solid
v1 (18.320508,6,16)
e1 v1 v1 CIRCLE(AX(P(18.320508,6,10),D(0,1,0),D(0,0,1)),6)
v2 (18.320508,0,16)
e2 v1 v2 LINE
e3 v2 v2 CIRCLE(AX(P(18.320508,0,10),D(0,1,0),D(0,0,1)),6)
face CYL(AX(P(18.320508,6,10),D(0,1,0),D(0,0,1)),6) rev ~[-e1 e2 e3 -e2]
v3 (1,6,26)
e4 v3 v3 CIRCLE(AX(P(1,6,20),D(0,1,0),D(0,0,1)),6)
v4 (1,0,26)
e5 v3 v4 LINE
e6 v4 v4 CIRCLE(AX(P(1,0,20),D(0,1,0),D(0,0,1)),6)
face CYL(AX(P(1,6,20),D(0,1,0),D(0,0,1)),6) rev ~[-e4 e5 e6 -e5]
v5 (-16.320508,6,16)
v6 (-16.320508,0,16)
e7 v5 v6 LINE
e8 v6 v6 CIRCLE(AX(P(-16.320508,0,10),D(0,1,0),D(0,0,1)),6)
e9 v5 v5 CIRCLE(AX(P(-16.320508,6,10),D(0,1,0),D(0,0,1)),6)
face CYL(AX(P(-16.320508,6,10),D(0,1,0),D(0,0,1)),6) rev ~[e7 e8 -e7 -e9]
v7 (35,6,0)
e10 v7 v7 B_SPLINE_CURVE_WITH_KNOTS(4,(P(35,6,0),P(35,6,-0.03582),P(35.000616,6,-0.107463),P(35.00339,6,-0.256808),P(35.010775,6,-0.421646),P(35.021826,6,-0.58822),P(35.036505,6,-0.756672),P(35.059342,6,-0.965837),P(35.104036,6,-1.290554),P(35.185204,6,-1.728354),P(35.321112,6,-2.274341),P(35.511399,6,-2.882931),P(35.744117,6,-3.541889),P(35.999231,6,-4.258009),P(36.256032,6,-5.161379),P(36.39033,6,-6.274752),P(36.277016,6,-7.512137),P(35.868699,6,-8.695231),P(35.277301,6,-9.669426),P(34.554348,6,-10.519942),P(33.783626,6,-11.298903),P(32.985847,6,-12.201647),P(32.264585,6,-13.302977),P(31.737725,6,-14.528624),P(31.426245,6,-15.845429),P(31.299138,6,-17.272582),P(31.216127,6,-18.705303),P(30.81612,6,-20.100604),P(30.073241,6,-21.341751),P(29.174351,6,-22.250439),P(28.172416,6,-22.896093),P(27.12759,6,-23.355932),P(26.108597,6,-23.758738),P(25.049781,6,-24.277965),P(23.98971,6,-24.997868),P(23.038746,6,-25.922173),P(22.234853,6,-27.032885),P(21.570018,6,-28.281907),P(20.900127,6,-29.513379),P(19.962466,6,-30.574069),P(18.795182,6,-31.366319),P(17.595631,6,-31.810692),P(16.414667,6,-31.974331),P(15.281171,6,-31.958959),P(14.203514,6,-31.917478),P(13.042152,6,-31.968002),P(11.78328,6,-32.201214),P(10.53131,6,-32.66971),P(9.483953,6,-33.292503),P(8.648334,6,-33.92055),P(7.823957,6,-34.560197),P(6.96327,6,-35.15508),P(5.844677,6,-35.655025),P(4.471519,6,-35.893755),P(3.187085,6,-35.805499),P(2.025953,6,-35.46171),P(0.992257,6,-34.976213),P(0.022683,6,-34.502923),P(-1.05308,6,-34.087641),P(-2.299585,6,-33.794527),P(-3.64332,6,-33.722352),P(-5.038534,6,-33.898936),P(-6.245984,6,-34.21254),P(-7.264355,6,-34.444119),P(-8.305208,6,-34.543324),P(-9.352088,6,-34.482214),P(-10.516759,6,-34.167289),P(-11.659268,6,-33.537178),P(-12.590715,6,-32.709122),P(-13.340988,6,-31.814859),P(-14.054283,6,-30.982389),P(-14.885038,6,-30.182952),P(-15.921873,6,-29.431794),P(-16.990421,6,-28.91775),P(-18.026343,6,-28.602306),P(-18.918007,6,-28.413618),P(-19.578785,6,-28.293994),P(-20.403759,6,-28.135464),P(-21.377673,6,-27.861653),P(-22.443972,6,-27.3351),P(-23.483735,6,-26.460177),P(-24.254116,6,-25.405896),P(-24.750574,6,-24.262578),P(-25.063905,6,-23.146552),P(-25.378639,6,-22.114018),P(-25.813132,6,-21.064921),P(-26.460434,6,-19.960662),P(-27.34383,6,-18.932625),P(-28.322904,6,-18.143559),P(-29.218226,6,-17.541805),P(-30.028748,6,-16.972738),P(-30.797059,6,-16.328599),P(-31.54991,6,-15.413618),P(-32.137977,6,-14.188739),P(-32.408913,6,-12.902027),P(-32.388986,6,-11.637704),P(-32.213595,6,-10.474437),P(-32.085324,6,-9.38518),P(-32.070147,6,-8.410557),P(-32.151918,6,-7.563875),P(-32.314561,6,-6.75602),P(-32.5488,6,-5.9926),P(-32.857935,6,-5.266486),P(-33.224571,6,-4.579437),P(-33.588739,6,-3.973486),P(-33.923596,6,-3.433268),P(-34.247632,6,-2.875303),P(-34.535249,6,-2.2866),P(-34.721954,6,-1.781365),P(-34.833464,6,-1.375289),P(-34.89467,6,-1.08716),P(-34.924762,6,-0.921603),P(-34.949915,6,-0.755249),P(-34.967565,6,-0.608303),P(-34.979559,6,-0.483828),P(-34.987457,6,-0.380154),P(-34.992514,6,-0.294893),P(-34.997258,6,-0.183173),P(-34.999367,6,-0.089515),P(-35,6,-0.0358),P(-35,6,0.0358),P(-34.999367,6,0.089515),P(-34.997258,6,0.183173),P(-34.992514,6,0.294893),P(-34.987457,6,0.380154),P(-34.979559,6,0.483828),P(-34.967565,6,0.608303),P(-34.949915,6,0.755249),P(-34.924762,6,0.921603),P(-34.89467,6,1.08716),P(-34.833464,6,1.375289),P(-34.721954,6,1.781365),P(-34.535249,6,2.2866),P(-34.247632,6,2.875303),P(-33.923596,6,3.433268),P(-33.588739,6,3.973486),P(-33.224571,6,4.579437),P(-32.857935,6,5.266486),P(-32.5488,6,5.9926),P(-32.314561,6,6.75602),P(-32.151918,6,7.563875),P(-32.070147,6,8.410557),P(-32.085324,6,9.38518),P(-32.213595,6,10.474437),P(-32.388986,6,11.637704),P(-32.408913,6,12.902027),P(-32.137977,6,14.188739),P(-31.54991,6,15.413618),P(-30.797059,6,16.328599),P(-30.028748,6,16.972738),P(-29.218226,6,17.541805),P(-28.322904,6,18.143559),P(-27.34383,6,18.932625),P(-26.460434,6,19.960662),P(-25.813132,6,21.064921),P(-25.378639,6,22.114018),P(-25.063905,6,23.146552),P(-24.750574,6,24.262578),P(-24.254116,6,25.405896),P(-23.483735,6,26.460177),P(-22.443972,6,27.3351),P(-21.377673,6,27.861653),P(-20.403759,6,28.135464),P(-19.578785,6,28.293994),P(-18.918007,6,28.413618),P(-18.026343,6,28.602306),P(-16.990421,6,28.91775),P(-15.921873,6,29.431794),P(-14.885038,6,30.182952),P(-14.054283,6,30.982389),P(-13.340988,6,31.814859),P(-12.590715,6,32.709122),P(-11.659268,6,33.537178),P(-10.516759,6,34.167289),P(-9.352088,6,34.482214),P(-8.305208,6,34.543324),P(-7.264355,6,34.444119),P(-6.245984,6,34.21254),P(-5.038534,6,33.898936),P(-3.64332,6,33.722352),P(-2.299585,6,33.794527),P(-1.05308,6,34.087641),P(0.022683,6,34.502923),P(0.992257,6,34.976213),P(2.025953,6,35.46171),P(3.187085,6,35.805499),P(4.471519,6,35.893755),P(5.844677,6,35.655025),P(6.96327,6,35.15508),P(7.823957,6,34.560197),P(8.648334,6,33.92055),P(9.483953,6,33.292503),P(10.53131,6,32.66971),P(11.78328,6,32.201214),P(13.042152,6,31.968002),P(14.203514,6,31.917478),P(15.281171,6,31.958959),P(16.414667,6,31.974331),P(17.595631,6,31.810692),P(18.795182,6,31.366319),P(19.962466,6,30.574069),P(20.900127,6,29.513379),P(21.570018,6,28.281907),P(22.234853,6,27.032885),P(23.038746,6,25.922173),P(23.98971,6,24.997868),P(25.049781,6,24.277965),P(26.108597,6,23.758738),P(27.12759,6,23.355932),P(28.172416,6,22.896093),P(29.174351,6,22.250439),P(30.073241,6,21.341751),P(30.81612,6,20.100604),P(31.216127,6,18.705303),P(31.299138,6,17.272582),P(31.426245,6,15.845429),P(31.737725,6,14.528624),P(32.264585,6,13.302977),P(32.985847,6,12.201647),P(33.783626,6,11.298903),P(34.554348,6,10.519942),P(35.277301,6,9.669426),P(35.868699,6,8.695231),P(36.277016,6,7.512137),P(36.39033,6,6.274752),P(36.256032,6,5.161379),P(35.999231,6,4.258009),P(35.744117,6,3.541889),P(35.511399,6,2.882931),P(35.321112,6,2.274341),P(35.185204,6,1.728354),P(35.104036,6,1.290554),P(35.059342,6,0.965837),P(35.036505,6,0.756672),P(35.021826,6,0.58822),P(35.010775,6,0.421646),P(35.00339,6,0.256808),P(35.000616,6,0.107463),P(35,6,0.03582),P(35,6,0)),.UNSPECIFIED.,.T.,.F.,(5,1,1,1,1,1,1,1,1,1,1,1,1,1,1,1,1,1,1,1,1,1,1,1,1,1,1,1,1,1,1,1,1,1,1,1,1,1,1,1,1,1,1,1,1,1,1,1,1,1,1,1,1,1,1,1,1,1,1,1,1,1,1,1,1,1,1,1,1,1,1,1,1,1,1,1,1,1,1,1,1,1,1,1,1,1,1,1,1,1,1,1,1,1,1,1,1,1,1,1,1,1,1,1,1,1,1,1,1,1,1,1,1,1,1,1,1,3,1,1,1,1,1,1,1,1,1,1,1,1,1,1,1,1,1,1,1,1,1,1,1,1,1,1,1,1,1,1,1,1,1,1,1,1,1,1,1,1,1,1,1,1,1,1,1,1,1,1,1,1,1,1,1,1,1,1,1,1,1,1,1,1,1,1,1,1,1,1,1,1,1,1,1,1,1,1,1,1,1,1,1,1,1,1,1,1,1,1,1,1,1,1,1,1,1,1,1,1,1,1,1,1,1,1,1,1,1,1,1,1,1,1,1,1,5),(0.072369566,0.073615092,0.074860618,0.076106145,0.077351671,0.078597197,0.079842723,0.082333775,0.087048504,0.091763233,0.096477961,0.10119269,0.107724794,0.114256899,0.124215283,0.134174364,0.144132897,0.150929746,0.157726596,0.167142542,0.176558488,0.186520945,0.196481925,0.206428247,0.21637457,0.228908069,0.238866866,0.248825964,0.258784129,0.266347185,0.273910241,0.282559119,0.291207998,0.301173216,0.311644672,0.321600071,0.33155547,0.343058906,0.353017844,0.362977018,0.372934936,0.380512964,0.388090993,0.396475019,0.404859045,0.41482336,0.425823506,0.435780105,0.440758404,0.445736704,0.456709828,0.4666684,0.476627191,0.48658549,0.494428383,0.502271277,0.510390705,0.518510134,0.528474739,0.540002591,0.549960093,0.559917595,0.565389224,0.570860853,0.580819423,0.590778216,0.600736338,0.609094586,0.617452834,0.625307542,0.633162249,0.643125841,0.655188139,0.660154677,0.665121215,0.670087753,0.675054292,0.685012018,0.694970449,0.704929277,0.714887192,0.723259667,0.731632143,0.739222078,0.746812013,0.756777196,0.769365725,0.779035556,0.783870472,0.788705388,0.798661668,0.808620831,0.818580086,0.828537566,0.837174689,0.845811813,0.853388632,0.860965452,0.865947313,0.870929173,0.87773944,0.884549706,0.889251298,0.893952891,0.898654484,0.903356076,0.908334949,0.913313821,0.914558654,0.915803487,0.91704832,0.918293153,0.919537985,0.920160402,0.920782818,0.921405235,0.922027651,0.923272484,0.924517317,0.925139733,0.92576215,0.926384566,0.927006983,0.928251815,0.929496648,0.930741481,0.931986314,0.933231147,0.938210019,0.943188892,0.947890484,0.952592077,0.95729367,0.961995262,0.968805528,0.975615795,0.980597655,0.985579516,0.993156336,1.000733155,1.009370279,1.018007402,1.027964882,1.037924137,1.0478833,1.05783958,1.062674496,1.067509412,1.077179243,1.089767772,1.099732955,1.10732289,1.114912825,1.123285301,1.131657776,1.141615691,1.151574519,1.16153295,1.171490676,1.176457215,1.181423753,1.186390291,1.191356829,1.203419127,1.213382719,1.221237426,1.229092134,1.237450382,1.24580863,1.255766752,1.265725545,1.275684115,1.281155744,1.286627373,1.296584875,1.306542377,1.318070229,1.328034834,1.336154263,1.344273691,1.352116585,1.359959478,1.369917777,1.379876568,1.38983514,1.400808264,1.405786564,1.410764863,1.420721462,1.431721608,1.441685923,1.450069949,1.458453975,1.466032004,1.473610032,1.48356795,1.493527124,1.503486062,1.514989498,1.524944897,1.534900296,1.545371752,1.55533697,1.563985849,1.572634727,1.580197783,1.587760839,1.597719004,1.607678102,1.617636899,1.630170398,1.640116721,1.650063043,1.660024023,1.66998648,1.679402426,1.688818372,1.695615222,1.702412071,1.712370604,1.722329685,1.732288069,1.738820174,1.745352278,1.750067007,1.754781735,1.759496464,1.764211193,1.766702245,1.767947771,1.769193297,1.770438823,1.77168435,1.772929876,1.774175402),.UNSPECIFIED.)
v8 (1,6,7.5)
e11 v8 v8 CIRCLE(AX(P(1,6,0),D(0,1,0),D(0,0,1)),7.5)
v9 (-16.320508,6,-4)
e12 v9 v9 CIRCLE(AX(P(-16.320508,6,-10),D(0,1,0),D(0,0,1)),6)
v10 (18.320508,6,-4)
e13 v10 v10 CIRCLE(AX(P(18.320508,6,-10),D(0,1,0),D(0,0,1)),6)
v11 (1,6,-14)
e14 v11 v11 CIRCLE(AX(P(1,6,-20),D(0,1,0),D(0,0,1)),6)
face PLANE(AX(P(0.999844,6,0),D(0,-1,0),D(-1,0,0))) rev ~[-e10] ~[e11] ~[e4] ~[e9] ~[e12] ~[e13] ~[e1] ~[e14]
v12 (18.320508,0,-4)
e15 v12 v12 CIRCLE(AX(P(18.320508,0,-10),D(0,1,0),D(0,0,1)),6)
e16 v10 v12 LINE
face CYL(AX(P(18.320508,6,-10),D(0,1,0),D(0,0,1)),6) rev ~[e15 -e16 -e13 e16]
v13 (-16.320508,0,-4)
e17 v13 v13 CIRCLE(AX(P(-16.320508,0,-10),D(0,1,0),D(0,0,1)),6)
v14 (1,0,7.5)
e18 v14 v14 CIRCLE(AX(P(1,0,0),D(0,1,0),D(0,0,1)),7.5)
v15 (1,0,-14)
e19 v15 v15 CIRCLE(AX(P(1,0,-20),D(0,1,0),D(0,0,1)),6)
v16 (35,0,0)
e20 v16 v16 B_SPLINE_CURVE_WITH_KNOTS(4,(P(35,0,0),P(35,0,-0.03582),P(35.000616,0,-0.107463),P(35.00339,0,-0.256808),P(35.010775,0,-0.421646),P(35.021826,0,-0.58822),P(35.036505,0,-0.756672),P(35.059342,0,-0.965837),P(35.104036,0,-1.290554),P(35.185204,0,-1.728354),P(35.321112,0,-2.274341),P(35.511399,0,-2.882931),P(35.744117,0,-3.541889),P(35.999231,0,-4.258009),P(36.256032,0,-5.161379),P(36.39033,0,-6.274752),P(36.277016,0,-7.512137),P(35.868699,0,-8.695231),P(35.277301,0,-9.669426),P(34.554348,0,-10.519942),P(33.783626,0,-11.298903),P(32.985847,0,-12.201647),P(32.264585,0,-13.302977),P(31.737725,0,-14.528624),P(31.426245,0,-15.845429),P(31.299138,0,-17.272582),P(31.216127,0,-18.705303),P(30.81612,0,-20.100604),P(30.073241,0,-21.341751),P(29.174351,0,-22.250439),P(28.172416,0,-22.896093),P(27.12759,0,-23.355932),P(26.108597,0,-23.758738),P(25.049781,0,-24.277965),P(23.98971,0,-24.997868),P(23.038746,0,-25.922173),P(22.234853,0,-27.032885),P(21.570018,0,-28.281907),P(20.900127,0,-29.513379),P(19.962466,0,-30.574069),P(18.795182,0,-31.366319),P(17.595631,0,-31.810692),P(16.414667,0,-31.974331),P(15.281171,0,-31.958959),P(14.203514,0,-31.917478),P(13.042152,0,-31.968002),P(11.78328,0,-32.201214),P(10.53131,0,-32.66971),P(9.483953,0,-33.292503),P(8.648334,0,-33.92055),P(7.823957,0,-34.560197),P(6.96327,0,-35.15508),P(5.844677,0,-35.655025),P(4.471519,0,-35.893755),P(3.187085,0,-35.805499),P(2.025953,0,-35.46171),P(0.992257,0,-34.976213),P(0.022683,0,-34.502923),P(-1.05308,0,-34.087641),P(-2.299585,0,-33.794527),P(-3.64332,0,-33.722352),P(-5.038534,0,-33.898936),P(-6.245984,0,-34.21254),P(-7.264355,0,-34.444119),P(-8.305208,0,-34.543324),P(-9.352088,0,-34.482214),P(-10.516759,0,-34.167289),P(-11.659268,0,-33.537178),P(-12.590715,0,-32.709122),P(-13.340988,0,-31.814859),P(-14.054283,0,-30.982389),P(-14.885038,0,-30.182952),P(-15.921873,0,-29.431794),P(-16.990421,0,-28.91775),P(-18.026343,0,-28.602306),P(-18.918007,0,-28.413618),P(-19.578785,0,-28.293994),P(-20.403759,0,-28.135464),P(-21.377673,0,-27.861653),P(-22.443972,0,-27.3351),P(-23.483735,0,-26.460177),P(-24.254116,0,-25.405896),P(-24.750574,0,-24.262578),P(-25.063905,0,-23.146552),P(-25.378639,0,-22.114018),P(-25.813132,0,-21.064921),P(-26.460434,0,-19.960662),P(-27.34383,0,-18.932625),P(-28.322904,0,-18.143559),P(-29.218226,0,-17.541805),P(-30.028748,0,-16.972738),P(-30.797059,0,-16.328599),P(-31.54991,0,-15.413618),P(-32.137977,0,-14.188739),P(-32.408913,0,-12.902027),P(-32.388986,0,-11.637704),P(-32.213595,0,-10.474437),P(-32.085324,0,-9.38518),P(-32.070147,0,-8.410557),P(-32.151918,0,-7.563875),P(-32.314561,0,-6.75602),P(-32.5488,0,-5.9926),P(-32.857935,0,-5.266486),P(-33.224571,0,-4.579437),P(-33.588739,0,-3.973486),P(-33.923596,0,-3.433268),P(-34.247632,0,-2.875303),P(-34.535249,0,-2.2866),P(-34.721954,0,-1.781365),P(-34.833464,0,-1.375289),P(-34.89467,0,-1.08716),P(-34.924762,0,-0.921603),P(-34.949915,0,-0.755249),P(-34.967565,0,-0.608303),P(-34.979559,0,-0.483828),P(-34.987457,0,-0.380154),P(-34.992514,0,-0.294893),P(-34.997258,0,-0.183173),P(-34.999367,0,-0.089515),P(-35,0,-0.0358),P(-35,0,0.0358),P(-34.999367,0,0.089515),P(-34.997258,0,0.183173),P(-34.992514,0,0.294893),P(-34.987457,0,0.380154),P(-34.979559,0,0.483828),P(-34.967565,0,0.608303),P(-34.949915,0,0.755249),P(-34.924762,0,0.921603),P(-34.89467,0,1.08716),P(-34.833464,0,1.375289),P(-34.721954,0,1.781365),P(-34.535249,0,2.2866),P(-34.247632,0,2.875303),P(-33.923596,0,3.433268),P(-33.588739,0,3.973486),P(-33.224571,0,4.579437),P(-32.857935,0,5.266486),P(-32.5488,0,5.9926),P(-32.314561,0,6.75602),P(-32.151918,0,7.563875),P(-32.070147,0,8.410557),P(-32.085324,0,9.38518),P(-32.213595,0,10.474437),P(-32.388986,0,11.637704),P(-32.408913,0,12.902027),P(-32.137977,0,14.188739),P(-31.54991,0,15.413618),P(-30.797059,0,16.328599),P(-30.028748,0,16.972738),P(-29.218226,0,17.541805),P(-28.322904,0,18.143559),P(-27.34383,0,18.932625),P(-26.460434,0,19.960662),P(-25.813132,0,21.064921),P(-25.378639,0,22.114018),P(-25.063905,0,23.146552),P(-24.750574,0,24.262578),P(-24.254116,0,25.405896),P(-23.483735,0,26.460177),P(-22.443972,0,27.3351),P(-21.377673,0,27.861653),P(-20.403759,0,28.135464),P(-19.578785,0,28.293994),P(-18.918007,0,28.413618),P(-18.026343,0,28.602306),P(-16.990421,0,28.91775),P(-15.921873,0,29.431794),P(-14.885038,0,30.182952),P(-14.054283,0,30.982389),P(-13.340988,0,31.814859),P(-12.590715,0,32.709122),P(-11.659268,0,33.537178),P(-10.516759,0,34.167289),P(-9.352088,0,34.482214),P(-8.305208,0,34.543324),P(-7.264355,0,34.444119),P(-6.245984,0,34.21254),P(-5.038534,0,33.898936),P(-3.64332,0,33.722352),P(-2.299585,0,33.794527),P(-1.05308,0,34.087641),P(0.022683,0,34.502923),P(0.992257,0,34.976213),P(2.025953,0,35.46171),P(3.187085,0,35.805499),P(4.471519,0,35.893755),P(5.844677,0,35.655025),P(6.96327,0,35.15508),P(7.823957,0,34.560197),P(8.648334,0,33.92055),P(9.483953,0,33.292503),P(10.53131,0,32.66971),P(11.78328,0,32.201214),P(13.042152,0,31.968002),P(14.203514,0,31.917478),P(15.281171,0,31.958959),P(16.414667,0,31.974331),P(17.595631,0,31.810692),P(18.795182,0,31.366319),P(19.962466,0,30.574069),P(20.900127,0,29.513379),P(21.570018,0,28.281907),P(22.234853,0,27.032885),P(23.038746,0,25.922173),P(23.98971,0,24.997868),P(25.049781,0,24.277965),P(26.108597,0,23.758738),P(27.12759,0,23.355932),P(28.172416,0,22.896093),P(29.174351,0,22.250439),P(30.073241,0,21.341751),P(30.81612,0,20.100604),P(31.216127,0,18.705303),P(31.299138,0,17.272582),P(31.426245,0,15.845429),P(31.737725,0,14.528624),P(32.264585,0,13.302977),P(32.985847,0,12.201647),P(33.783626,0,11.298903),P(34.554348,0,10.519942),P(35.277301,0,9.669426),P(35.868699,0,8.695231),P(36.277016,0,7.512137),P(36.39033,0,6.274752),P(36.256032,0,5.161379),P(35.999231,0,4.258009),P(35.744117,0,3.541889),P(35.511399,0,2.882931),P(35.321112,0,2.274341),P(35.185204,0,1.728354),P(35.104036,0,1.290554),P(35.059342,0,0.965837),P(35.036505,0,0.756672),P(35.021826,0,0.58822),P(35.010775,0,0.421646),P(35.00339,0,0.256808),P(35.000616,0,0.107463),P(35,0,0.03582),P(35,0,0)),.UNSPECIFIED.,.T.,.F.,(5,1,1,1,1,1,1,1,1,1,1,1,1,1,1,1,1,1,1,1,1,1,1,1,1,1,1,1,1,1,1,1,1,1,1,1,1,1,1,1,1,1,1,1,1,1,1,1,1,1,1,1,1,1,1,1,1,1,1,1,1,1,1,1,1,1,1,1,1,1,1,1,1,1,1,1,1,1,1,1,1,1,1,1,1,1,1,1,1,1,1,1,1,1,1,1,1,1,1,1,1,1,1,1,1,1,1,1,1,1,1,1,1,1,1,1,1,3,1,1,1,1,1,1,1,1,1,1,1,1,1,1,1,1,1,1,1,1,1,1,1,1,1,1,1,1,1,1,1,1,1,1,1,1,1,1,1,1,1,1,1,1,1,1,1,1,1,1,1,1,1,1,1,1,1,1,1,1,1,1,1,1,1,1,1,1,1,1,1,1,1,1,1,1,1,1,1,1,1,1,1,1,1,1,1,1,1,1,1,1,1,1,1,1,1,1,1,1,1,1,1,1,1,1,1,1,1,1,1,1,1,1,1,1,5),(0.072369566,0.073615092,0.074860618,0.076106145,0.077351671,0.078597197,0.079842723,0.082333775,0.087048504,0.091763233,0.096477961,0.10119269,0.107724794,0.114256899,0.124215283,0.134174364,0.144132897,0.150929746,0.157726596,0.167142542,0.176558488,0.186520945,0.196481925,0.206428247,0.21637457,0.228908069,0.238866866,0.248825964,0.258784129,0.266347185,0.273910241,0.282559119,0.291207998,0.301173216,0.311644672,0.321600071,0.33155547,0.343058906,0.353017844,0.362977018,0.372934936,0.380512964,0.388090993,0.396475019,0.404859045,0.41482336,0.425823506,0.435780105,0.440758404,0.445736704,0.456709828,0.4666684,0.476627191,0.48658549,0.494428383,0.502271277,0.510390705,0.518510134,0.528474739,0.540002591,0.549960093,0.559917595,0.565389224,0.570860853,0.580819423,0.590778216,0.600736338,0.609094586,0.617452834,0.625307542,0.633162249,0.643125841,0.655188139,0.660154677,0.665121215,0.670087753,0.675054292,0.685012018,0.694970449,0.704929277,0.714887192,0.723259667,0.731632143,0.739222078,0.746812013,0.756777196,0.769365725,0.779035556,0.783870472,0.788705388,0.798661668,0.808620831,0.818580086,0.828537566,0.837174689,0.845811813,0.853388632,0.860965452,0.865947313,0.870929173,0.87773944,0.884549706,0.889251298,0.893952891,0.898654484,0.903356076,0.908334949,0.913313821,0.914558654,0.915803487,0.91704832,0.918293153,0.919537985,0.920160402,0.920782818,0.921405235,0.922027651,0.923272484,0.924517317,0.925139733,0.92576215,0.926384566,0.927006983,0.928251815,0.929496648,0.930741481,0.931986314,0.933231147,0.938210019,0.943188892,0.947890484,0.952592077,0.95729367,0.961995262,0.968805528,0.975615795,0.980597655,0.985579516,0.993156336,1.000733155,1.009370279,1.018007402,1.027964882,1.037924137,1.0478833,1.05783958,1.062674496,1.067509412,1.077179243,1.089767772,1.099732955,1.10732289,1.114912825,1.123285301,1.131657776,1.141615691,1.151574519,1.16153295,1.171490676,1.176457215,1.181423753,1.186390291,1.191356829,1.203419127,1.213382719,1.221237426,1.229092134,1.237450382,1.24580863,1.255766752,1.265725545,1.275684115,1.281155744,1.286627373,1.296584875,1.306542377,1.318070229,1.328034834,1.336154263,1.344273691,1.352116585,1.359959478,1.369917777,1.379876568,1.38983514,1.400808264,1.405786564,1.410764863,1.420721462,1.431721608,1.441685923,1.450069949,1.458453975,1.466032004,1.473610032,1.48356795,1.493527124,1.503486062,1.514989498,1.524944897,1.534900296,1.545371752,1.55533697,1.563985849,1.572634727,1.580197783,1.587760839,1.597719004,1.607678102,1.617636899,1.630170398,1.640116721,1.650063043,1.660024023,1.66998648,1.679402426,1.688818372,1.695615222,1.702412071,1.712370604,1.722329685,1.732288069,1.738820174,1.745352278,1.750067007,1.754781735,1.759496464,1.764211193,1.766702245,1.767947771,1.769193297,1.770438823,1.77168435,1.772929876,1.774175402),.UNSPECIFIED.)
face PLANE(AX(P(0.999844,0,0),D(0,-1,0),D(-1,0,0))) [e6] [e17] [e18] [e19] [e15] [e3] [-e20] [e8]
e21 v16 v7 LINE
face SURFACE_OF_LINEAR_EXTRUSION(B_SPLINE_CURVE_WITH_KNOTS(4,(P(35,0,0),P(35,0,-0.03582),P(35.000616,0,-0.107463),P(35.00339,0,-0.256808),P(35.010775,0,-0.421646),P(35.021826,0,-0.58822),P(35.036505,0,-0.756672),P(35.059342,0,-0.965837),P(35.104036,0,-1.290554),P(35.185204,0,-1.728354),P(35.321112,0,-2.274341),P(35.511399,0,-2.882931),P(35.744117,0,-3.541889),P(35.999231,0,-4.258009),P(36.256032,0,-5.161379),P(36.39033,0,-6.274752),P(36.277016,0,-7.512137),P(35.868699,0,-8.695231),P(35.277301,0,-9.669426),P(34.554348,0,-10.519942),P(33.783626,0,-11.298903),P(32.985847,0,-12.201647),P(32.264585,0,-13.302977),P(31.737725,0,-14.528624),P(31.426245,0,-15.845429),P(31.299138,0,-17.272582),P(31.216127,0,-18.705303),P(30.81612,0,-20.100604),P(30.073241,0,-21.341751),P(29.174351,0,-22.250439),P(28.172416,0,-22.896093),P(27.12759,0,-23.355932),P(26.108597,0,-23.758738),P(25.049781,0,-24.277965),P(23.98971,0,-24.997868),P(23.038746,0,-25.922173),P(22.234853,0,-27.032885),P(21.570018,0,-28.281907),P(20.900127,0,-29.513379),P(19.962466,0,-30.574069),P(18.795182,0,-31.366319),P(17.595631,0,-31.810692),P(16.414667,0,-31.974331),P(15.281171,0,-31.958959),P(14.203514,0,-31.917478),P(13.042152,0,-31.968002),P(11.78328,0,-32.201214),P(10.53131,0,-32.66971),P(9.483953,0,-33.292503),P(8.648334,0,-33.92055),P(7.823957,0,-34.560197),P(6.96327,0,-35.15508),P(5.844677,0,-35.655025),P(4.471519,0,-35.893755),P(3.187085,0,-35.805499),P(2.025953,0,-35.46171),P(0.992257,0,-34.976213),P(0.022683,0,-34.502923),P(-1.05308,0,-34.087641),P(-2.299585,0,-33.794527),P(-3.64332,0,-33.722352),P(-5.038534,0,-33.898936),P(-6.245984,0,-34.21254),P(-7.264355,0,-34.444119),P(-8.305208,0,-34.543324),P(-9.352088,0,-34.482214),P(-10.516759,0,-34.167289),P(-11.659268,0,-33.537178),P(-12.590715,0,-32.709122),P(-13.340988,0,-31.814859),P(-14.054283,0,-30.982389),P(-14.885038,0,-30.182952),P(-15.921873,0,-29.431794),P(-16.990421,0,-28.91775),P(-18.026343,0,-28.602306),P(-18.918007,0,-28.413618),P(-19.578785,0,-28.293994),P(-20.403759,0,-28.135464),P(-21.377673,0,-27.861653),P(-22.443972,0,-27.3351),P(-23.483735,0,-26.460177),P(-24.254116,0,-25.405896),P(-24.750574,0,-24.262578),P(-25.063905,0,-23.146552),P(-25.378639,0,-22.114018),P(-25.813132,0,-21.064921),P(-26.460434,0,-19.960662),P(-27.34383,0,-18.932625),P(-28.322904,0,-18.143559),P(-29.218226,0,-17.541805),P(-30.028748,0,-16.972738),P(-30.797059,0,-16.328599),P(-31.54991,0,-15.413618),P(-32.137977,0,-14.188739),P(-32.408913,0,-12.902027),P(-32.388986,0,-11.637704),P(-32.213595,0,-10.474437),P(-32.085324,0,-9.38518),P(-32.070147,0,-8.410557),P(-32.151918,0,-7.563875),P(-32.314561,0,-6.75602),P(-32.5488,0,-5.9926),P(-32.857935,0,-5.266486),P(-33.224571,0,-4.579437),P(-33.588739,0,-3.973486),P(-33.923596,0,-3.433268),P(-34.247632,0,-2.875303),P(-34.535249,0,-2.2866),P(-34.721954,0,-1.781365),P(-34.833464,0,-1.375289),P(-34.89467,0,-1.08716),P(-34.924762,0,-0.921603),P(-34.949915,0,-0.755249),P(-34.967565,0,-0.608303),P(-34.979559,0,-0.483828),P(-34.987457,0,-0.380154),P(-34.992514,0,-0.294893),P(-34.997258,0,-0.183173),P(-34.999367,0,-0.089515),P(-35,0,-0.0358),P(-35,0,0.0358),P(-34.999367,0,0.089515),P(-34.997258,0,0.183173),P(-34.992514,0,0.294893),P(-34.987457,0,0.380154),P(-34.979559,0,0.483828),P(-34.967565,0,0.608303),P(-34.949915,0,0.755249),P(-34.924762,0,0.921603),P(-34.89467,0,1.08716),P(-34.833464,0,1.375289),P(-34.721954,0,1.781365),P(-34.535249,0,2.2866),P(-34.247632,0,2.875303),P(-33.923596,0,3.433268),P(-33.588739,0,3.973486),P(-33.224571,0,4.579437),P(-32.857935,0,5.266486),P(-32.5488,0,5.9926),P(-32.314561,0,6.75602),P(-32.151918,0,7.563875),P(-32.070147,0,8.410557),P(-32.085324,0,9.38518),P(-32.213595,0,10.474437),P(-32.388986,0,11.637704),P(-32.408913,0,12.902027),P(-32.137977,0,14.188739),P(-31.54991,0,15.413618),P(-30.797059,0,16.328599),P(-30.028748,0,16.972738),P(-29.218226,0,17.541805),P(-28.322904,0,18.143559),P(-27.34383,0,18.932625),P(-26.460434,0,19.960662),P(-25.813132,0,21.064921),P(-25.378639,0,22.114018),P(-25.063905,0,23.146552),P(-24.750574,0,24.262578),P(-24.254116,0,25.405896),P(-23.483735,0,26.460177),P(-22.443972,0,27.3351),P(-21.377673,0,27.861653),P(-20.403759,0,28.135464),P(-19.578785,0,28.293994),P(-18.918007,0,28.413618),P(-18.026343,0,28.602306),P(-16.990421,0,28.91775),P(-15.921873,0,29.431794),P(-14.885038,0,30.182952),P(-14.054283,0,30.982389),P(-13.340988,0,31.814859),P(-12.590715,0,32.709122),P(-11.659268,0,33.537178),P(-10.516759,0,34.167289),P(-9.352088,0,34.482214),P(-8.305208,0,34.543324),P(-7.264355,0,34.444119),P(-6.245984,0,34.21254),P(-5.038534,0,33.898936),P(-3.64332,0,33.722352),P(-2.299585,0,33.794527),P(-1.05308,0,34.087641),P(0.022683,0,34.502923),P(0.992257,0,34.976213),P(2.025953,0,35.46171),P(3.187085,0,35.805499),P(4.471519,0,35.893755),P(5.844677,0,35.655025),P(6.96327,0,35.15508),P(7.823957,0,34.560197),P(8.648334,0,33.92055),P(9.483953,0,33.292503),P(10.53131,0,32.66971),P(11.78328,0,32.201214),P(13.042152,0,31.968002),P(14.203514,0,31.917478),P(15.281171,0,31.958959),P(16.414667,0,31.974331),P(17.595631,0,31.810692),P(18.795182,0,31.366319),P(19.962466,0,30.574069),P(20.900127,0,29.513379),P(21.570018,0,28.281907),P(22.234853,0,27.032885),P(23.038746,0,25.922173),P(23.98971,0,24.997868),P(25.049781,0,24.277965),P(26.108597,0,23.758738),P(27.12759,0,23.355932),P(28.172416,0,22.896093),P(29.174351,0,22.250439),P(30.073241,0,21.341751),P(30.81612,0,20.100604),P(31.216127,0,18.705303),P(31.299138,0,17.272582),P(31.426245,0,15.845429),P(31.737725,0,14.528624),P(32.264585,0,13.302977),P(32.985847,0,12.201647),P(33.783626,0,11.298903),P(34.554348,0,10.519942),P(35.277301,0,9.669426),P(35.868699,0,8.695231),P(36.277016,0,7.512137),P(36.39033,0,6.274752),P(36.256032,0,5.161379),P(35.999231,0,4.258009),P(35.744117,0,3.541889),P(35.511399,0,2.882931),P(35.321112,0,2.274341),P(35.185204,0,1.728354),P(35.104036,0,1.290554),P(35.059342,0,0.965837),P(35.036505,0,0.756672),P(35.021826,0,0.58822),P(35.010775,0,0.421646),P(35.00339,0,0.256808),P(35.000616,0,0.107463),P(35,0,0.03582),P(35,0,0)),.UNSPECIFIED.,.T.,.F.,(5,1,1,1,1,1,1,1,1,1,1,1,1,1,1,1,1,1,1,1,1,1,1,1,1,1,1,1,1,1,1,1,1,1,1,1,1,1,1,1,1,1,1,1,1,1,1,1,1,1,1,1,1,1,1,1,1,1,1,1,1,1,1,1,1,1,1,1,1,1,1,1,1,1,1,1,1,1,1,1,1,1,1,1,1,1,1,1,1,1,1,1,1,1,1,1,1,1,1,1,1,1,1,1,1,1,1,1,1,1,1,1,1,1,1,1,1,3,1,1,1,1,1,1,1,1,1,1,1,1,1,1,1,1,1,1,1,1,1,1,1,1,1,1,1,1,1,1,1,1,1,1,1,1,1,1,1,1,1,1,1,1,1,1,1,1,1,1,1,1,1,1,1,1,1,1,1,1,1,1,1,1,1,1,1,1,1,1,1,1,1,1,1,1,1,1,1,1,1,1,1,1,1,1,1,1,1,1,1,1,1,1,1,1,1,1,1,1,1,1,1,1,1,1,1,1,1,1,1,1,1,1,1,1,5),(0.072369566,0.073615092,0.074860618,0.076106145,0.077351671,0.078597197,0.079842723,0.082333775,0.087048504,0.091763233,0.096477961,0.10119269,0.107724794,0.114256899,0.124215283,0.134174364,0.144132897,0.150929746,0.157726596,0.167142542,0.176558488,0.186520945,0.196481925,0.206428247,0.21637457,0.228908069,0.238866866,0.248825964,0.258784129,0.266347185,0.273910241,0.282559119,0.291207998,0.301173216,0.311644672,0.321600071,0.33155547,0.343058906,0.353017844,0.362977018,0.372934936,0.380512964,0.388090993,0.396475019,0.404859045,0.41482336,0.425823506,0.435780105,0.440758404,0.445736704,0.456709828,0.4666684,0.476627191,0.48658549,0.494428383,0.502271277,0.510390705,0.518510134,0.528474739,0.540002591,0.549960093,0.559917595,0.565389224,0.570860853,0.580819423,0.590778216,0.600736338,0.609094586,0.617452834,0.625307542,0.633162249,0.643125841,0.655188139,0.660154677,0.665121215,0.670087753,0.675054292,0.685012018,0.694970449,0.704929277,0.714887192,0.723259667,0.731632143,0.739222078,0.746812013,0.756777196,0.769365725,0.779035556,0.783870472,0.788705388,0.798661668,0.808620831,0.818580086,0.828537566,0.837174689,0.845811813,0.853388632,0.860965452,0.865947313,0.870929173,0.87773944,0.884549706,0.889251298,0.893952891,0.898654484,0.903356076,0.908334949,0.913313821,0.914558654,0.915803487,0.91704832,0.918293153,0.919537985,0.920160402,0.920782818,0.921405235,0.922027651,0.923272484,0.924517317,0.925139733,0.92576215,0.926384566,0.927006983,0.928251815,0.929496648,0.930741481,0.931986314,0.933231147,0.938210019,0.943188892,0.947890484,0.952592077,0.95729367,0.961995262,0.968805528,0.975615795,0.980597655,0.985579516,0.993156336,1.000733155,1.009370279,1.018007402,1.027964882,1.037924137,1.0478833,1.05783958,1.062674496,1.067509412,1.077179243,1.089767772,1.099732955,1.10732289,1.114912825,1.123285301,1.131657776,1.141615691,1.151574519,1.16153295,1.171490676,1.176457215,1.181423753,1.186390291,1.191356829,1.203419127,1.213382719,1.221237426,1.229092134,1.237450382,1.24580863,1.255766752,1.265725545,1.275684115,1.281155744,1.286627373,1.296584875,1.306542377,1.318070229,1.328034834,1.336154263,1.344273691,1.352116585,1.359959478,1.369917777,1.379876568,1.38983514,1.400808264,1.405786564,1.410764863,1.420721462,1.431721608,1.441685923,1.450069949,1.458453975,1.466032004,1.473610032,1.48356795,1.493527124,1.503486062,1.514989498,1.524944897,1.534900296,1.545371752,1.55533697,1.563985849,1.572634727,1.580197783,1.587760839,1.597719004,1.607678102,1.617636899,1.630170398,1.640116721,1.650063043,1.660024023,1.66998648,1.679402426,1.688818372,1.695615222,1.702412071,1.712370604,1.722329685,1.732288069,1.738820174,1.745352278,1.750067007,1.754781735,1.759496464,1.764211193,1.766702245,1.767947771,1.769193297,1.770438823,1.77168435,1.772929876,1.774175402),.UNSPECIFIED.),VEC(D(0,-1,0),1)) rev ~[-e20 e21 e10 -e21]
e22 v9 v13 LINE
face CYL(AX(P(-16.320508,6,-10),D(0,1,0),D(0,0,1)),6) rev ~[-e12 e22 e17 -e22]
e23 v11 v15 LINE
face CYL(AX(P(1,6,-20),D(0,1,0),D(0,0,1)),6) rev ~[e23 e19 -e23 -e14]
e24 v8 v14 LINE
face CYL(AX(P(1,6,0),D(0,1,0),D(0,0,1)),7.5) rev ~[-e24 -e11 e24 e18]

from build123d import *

# Parameters (mm, degrees)
BOSS_EXTRUDE1_DEPTH = 6
SKETCH4_R           = 7.5
SKETCH4_R_2         = 6
CUT_EXTRUDE1_DEPTH  = 52.384193919


with BuildPart() as part:
    # Sketch3 → Boss-Extrude1 (new body)
    with BuildSketch(Plane(origin=(0, 0, 0), x_dir=(1, 0, 0), z_dir=(0, 1, 0))):
        with BuildLine():
            add(Edge.make_bspline(
                [(35, 0), (35, -0.035819521), (35.000616373, -0.107462841), (35.003390054, -0.256808001), (35.01077535, -0.421646412), (35.021825769, -0.588219856), (35.036504882, -0.756672424), (35.059341773, -0.965837166), (35.104035951, -1.290553755), (35.185204177, -1.728353621), (35.321111932, -2.274340702), (35.511398877, -2.882930915), (35.744117036, -3.541888991), (35.999231194, -4.258009419), (36.256031973, -5.161379021), (36.390330129, -6.274752326), (36.277015947, -7.512136968), (35.868698722, -8.695231312), (35.277300884, -9.66942621), (34.554347706, -10.519941998), (33.783626013, -11.298902854), (32.985846748, -12.201646946), (32.264584631, -13.302976589), (31.737724515, -14.528623762), (31.426244596, -15.845428611), (31.299137645, -17.272582429), (31.216127, -18.70530298), (30.816120234, -20.100603953), (30.073240875, -21.341751417), (29.174351138, -22.250438514), (28.172415899, -22.896093054), (27.127590319, -23.355931745), (26.10859664, -23.758738205), (25.049780962, -24.277964858), (23.989709649, -24.997868071), (23.038745697, -25.922173331), (22.234852767, -27.032885429), (21.570018171, -28.281907031), (20.900127092, -29.513378935), (19.962466181, -30.574068753), (18.79518192, -31.366318649), (17.595631263, -31.810691731), (16.414666993, -31.97433085), (15.281171148, -31.958959306), (14.203514384, -31.91747762), (13.042151806, -31.968001953), (11.783279681, -32.201214224), (10.531309832, -32.66971044), (9.48395263, -33.292502605), (8.64833417, -33.920550222), (7.823957174, -34.560196787), (6.963270269, -35.155080008), (5.844676613, -35.655024643), (4.471519425, -35.893755086), (3.187084678, -35.805499476), (2.025952577, -35.461710054), (0.992256939, -34.976213141), (0.022683462, -34.502923006), (-1.053080375, -34.087641485), (-2.299584809, -33.794526859), (-3.643320491, -33.722351618), (-5.038534255, -33.89893647), (-6.24598376, -34.2125404), (-7.264354515, -34.444119371), (-8.305207807, -34.543324073), (-9.35208771, -34.482213909), (-10.516758731, -34.167289325), (-11.659268337, -33.537177777), (-12.590715473, -32.709121516), (-13.34098787, -31.814858509), (-14.054283468, -30.982389039), (-14.885038409, -30.182951686), (-15.921872801, -29.43179423), (-16.990420846, -28.917750141), (-18.026343297, -28.602305782), (-18.91800709, -28.413618025), (-19.578784746, -28.293993848), (-20.403759493, -28.135463838), (-21.377672688, -27.861653344), (-22.443971731, -27.335099918), (-23.483734656, -26.460176512), (-24.2541157, -25.405895772), (-24.750574375, -24.262578026), (-25.063904971, -23.146552345), (-25.378639074, -22.114017621), (-25.813131886, -21.064921211), (-26.460434486, -19.960662125), (-27.343829971, -18.932625358), (-28.322904319, -18.143559056), (-29.218225657, -17.541804862), (-30.028748291, -16.972737819), (-30.797058719, -16.328598531), (-31.549909645, -15.413617977), (-32.137977425, -14.188738612), (-32.4089126, -12.90202686), (-32.388985538, -11.637704019), (-32.213594685, -10.474436855), (-32.085323796, -9.385180269), (-32.070146732, -8.410557002), (-32.151917663, -7.56387468), (-32.314560623, -6.756019588), (-32.548800101, -5.992599911), (-32.857935391, -5.266485518), (-33.224571123, -4.579437291), (-33.588738685, -3.973485748), (-33.923596212, -3.433268023), (-34.247631958, -2.87530324), (-34.535248612, -2.28660009), (-34.721954293, -1.781365153), (-34.833464319, -1.375289499), (-34.894669525, -1.087159539), (-34.924762046, -0.921603411), (-34.949915122, -0.755248907), (-34.967564963, -0.608302523), (-34.979558938, -0.483828007), (-34.987456793, -0.380154151), (-34.992514334, -0.294893351), (-34.997257891, -0.183172559), (-34.999367206, -0.089514524), (-35, -0.035799586), (-35, 0)],
                knots=[0.072369566, 0.072369566, 0.072369566, 0.072369566, 0.072369566, 0.073615092, 0.074860618, 0.076106145, 0.077351671, 0.078597197, 0.079842723, 0.082333775, 0.087048504, 0.091763233, 0.096477961, 0.10119269, 0.107724794, 0.114256899, 0.124215283, 0.134174364, 0.144132897, 0.150929746, 0.157726596, 0.167142542, 0.176558488, 0.186520945, 0.196481925, 0.206428247, 0.21637457, 0.228908069, 0.238866866, 0.248825964, 0.258784129, 0.266347185, 0.273910241, 0.282559119, 0.291207998, 0.301173216, 0.311644672, 0.321600071, 0.33155547, 0.343058906, 0.353017844, 0.362977018, 0.372934936, 0.380512964, 0.388090993, 0.396475019, 0.404859045, 0.41482336, 0.425823506, 0.435780105, 0.440758404, 0.445736704, 0.456709828, 0.4666684, 0.476627191, 0.48658549, 0.494428383, 0.502271277, 0.510390705, 0.518510134, 0.528474739, 0.540002591, 0.549960093, 0.559917595, 0.565389224, 0.570860853, 0.580819423, 0.590778216, 0.600736338, 0.609094586, 0.617452834, 0.625307542, 0.633162249, 0.643125841, 0.655188139, 0.660154677, 0.665121215, 0.670087753, 0.675054292, 0.685012018, 0.694970449, 0.704929277, 0.714887192, 0.723259667, 0.731632143, 0.739222078, 0.746812013, 0.756777196, 0.769365725, 0.779035556, 0.783870472, 0.788705388, 0.798661668, 0.808620831, 0.818580086, 0.828537566, 0.837174689, 0.845811813, 0.853388632, 0.860965452, 0.865947313, 0.870929173, 0.87773944, 0.884549706, 0.889251298, 0.893952891, 0.898654484, 0.903356076, 0.908334949, 0.913313821, 0.914558654, 0.915803487, 0.91704832, 0.918293153, 0.919537985, 0.920160402, 0.920782818, 0.921405235, 0.922027651, 0.923272484, 0.923272484, 0.923272484, 0.923272484, 0.923272484], degree=4))
            add(Edge.make_bspline(
                [(35, 0), (35, 0.035819522), (35.000616373, 0.107462841), (35.003390054, 0.256808001), (35.01077535, 0.421646413), (35.021825769, 0.588219856), (35.036504882, 0.756672424), (35.059341773, 0.965837166), (35.104035951, 1.290553755), (35.185204177, 1.728353622), (35.321111932, 2.274340703), (35.511398877, 2.882930915), (35.744117036, 3.541888991), (35.999231193, 4.25800942), (36.256031973, 5.161379022), (36.390330129, 6.274752326), (36.277015947, 7.512136969), (35.868698722, 8.695231313), (35.277300884, 9.669426211), (34.554347705, 10.519941998), (33.783626013, 11.298902855), (32.985846748, 12.201646947), (32.264584631, 13.30297659), (31.737724515, 14.528623762), (31.426244596, 15.845428611), (31.299137645, 17.27258243), (31.216127, 18.70530298), (30.816120234, 20.100603953), (30.073240875, 21.341751418), (29.174351138, 22.250438515), (28.172415899, 22.896093055), (27.127590318, 23.355931746), (26.10859664, 23.758738206), (25.049780962, 24.277964858), (23.989709649, 24.997868072), (23.038745697, 25.922173331), (22.234852767, 27.03288543), (21.57001817, 28.281907032), (20.900127092, 29.513378936), (19.962466181, 30.574068753), (18.795181919, 31.366318649), (17.595631263, 31.810691732), (16.414666993, 31.974330851), (15.281171148, 31.958959306), (14.203514384, 31.91747762), (13.042151806, 31.968001953), (11.783279681, 32.201214224), (10.531309832, 32.66971044), (9.48395263, 33.292502605), (8.648334169, 33.920550223), (7.823957174, 34.560196788), (6.963270269, 35.155080008), (5.844676613, 35.655024643), (4.471519425, 35.893755086), (3.187084678, 35.805499477), (2.025952576, 35.461710054), (0.992256939, 34.976213141), (0.022683462, 34.502923006), (-1.053080375, 34.087641485), (-2.299584809, 33.794526859), (-3.643320491, 33.722351619), (-5.038534255, 33.89893647), (-6.24598376, 34.2125404), (-7.264354515, 34.444119372), (-8.305207807, 34.543324073), (-9.35208771, 34.482213909), (-10.516758731, 34.167289325), (-11.659268337, 33.537177777), (-12.590715473, 32.709121516), (-13.34098787, 31.814858509), (-14.054283468, 30.982389039), (-14.885038409, 30.182951686), (-15.921872801, 29.431794231), (-16.990420846, 28.917750141), (-18.026343297, 28.602305782), (-18.918007091, 28.413618025), (-19.578784746, 28.293993849), (-20.403759493, 28.135463838), (-21.377672688, 27.861653344), (-22.443971731, 27.335099919), (-23.483734656, 26.460176512), (-24.2541157, 25.405895772), (-24.750574375, 24.262578026), (-25.063904971, 23.146552345), (-25.378639074, 22.114017621), (-25.813131886, 21.064921211), (-26.460434486, 19.960662125), (-27.343829971, 18.932625358), (-28.322904319, 18.143559056), (-29.218225657, 17.541804862), (-30.028748291, 16.97273782), (-30.797058719, 16.328598531), (-31.549909645, 15.413617977), (-32.137977425, 14.188738612), (-32.4089126, 12.90202686), (-32.388985538, 11.637704019), (-32.213594686, 10.474436855), (-32.085323796, 9.385180269), (-32.070146733, 8.410557002), (-32.151917663, 7.56387468), (-32.314560623, 6.756019588), (-32.548800101, 5.992599911), (-32.857935391, 5.266485518), (-33.224571124, 4.579437291), (-33.588738685, 3.973485748), (-33.923596212, 3.433268023), (-34.247631958, 2.87530324), (-34.535248612, 2.28660009), (-34.721954293, 1.781365153), (-34.833464319, 1.375289499), (-34.894669525, 1.087159539), (-34.924762046, 0.921603412), (-34.949915122, 0.755248907), (-34.967564963, 0.608302523), (-34.979558938, 0.483828007), (-34.987456793, 0.380154151), (-34.992514334, 0.294893351), (-34.997257891, 0.183172559), (-34.999367206, 0.089514524), (-35, 0.035799586), (-35, 0)],
                knots=[0.072369566, 0.072369566, 0.072369566, 0.072369566, 0.072369566, 0.073615092, 0.074860618, 0.076106145, 0.077351671, 0.078597197, 0.079842723, 0.082333775, 0.087048504, 0.091763233, 0.096477961, 0.10119269, 0.107724794, 0.114256899, 0.124215283, 0.134174364, 0.144132897, 0.150929746, 0.157726596, 0.167142542, 0.176558488, 0.186520945, 0.196481925, 0.206428247, 0.21637457, 0.228908069, 0.238866866, 0.248825964, 0.258784129, 0.266347185, 0.273910241, 0.282559119, 0.291207998, 0.301173216, 0.311644672, 0.321600071, 0.33155547, 0.343058906, 0.353017844, 0.362977018, 0.372934936, 0.380512964, 0.388090993, 0.396475019, 0.404859045, 0.41482336, 0.425823506, 0.435780105, 0.440758404, 0.445736704, 0.456709828, 0.4666684, 0.476627191, 0.48658549, 0.494428383, 0.502271277, 0.510390705, 0.518510134, 0.528474739, 0.540002591, 0.549960093, 0.559917595, 0.565389224, 0.570860853, 0.580819423, 0.590778216, 0.600736338, 0.609094586, 0.617452834, 0.625307542, 0.633162249, 0.643125841, 0.655188139, 0.660154677, 0.665121215, 0.670087753, 0.675054292, 0.685012018, 0.694970449, 0.704929277, 0.714887192, 0.723259667, 0.731632143, 0.739222078, 0.746812013, 0.756777196, 0.769365725, 0.779035556, 0.783870472, 0.788705388, 0.798661668, 0.808620831, 0.818580086, 0.828537566, 0.837174689, 0.845811813, 0.853388632, 0.860965452, 0.865947313, 0.870929173, 0.87773944, 0.884549706, 0.889251298, 0.893952891, 0.898654484, 0.903356076, 0.908334949, 0.913313821, 0.914558654, 0.915803487, 0.91704832, 0.918293153, 0.919537985, 0.920160402, 0.920782818, 0.921405235, 0.922027651, 0.923272484, 0.923272484, 0.923272484, 0.923272484, 0.923272484], degree=4))
        make_face()
    extrude(amount=BOSS_EXTRUDE1_DEPTH)

    # Sketch4 → Cut-Extrude1 (cut, through all)
    with BuildSketch(Plane(origin=(0, 6, 0), x_dir=(1, 0, 0), z_dir=(0, 1, 0))):
        with Locations(Location((1, 0, 0), (0, 0, 270))):
            Circle(SKETCH4_R)
        with Locations(Location((1, 20, 0), (0, 0, 270))):
            Circle(SKETCH4_R_2)
        with Locations(Location((18.320508076, 10, 0), (0, 0, 270))):
            Circle(SKETCH4_R_2)
        with Locations(Location((18.320508076, -10, 0), (0, 0, 270))):
            Circle(SKETCH4_R_2)
        with Locations(Location((1, -20, 0), (0, 0, 270))):
            Circle(SKETCH4_R_2)
        with Locations(Location((-16.320508076, -10, 0), (0, 0, 270))):
            Circle(SKETCH4_R_2)
        with Locations(Location((-16.320508076, 10, 0), (0, 0, 270))):
            Circle(SKETCH4_R_2)
    extrude(amount=-CUT_EXTRUDE1_DEPTH, mode=Mode.SUBTRACT)


solid = part.part
